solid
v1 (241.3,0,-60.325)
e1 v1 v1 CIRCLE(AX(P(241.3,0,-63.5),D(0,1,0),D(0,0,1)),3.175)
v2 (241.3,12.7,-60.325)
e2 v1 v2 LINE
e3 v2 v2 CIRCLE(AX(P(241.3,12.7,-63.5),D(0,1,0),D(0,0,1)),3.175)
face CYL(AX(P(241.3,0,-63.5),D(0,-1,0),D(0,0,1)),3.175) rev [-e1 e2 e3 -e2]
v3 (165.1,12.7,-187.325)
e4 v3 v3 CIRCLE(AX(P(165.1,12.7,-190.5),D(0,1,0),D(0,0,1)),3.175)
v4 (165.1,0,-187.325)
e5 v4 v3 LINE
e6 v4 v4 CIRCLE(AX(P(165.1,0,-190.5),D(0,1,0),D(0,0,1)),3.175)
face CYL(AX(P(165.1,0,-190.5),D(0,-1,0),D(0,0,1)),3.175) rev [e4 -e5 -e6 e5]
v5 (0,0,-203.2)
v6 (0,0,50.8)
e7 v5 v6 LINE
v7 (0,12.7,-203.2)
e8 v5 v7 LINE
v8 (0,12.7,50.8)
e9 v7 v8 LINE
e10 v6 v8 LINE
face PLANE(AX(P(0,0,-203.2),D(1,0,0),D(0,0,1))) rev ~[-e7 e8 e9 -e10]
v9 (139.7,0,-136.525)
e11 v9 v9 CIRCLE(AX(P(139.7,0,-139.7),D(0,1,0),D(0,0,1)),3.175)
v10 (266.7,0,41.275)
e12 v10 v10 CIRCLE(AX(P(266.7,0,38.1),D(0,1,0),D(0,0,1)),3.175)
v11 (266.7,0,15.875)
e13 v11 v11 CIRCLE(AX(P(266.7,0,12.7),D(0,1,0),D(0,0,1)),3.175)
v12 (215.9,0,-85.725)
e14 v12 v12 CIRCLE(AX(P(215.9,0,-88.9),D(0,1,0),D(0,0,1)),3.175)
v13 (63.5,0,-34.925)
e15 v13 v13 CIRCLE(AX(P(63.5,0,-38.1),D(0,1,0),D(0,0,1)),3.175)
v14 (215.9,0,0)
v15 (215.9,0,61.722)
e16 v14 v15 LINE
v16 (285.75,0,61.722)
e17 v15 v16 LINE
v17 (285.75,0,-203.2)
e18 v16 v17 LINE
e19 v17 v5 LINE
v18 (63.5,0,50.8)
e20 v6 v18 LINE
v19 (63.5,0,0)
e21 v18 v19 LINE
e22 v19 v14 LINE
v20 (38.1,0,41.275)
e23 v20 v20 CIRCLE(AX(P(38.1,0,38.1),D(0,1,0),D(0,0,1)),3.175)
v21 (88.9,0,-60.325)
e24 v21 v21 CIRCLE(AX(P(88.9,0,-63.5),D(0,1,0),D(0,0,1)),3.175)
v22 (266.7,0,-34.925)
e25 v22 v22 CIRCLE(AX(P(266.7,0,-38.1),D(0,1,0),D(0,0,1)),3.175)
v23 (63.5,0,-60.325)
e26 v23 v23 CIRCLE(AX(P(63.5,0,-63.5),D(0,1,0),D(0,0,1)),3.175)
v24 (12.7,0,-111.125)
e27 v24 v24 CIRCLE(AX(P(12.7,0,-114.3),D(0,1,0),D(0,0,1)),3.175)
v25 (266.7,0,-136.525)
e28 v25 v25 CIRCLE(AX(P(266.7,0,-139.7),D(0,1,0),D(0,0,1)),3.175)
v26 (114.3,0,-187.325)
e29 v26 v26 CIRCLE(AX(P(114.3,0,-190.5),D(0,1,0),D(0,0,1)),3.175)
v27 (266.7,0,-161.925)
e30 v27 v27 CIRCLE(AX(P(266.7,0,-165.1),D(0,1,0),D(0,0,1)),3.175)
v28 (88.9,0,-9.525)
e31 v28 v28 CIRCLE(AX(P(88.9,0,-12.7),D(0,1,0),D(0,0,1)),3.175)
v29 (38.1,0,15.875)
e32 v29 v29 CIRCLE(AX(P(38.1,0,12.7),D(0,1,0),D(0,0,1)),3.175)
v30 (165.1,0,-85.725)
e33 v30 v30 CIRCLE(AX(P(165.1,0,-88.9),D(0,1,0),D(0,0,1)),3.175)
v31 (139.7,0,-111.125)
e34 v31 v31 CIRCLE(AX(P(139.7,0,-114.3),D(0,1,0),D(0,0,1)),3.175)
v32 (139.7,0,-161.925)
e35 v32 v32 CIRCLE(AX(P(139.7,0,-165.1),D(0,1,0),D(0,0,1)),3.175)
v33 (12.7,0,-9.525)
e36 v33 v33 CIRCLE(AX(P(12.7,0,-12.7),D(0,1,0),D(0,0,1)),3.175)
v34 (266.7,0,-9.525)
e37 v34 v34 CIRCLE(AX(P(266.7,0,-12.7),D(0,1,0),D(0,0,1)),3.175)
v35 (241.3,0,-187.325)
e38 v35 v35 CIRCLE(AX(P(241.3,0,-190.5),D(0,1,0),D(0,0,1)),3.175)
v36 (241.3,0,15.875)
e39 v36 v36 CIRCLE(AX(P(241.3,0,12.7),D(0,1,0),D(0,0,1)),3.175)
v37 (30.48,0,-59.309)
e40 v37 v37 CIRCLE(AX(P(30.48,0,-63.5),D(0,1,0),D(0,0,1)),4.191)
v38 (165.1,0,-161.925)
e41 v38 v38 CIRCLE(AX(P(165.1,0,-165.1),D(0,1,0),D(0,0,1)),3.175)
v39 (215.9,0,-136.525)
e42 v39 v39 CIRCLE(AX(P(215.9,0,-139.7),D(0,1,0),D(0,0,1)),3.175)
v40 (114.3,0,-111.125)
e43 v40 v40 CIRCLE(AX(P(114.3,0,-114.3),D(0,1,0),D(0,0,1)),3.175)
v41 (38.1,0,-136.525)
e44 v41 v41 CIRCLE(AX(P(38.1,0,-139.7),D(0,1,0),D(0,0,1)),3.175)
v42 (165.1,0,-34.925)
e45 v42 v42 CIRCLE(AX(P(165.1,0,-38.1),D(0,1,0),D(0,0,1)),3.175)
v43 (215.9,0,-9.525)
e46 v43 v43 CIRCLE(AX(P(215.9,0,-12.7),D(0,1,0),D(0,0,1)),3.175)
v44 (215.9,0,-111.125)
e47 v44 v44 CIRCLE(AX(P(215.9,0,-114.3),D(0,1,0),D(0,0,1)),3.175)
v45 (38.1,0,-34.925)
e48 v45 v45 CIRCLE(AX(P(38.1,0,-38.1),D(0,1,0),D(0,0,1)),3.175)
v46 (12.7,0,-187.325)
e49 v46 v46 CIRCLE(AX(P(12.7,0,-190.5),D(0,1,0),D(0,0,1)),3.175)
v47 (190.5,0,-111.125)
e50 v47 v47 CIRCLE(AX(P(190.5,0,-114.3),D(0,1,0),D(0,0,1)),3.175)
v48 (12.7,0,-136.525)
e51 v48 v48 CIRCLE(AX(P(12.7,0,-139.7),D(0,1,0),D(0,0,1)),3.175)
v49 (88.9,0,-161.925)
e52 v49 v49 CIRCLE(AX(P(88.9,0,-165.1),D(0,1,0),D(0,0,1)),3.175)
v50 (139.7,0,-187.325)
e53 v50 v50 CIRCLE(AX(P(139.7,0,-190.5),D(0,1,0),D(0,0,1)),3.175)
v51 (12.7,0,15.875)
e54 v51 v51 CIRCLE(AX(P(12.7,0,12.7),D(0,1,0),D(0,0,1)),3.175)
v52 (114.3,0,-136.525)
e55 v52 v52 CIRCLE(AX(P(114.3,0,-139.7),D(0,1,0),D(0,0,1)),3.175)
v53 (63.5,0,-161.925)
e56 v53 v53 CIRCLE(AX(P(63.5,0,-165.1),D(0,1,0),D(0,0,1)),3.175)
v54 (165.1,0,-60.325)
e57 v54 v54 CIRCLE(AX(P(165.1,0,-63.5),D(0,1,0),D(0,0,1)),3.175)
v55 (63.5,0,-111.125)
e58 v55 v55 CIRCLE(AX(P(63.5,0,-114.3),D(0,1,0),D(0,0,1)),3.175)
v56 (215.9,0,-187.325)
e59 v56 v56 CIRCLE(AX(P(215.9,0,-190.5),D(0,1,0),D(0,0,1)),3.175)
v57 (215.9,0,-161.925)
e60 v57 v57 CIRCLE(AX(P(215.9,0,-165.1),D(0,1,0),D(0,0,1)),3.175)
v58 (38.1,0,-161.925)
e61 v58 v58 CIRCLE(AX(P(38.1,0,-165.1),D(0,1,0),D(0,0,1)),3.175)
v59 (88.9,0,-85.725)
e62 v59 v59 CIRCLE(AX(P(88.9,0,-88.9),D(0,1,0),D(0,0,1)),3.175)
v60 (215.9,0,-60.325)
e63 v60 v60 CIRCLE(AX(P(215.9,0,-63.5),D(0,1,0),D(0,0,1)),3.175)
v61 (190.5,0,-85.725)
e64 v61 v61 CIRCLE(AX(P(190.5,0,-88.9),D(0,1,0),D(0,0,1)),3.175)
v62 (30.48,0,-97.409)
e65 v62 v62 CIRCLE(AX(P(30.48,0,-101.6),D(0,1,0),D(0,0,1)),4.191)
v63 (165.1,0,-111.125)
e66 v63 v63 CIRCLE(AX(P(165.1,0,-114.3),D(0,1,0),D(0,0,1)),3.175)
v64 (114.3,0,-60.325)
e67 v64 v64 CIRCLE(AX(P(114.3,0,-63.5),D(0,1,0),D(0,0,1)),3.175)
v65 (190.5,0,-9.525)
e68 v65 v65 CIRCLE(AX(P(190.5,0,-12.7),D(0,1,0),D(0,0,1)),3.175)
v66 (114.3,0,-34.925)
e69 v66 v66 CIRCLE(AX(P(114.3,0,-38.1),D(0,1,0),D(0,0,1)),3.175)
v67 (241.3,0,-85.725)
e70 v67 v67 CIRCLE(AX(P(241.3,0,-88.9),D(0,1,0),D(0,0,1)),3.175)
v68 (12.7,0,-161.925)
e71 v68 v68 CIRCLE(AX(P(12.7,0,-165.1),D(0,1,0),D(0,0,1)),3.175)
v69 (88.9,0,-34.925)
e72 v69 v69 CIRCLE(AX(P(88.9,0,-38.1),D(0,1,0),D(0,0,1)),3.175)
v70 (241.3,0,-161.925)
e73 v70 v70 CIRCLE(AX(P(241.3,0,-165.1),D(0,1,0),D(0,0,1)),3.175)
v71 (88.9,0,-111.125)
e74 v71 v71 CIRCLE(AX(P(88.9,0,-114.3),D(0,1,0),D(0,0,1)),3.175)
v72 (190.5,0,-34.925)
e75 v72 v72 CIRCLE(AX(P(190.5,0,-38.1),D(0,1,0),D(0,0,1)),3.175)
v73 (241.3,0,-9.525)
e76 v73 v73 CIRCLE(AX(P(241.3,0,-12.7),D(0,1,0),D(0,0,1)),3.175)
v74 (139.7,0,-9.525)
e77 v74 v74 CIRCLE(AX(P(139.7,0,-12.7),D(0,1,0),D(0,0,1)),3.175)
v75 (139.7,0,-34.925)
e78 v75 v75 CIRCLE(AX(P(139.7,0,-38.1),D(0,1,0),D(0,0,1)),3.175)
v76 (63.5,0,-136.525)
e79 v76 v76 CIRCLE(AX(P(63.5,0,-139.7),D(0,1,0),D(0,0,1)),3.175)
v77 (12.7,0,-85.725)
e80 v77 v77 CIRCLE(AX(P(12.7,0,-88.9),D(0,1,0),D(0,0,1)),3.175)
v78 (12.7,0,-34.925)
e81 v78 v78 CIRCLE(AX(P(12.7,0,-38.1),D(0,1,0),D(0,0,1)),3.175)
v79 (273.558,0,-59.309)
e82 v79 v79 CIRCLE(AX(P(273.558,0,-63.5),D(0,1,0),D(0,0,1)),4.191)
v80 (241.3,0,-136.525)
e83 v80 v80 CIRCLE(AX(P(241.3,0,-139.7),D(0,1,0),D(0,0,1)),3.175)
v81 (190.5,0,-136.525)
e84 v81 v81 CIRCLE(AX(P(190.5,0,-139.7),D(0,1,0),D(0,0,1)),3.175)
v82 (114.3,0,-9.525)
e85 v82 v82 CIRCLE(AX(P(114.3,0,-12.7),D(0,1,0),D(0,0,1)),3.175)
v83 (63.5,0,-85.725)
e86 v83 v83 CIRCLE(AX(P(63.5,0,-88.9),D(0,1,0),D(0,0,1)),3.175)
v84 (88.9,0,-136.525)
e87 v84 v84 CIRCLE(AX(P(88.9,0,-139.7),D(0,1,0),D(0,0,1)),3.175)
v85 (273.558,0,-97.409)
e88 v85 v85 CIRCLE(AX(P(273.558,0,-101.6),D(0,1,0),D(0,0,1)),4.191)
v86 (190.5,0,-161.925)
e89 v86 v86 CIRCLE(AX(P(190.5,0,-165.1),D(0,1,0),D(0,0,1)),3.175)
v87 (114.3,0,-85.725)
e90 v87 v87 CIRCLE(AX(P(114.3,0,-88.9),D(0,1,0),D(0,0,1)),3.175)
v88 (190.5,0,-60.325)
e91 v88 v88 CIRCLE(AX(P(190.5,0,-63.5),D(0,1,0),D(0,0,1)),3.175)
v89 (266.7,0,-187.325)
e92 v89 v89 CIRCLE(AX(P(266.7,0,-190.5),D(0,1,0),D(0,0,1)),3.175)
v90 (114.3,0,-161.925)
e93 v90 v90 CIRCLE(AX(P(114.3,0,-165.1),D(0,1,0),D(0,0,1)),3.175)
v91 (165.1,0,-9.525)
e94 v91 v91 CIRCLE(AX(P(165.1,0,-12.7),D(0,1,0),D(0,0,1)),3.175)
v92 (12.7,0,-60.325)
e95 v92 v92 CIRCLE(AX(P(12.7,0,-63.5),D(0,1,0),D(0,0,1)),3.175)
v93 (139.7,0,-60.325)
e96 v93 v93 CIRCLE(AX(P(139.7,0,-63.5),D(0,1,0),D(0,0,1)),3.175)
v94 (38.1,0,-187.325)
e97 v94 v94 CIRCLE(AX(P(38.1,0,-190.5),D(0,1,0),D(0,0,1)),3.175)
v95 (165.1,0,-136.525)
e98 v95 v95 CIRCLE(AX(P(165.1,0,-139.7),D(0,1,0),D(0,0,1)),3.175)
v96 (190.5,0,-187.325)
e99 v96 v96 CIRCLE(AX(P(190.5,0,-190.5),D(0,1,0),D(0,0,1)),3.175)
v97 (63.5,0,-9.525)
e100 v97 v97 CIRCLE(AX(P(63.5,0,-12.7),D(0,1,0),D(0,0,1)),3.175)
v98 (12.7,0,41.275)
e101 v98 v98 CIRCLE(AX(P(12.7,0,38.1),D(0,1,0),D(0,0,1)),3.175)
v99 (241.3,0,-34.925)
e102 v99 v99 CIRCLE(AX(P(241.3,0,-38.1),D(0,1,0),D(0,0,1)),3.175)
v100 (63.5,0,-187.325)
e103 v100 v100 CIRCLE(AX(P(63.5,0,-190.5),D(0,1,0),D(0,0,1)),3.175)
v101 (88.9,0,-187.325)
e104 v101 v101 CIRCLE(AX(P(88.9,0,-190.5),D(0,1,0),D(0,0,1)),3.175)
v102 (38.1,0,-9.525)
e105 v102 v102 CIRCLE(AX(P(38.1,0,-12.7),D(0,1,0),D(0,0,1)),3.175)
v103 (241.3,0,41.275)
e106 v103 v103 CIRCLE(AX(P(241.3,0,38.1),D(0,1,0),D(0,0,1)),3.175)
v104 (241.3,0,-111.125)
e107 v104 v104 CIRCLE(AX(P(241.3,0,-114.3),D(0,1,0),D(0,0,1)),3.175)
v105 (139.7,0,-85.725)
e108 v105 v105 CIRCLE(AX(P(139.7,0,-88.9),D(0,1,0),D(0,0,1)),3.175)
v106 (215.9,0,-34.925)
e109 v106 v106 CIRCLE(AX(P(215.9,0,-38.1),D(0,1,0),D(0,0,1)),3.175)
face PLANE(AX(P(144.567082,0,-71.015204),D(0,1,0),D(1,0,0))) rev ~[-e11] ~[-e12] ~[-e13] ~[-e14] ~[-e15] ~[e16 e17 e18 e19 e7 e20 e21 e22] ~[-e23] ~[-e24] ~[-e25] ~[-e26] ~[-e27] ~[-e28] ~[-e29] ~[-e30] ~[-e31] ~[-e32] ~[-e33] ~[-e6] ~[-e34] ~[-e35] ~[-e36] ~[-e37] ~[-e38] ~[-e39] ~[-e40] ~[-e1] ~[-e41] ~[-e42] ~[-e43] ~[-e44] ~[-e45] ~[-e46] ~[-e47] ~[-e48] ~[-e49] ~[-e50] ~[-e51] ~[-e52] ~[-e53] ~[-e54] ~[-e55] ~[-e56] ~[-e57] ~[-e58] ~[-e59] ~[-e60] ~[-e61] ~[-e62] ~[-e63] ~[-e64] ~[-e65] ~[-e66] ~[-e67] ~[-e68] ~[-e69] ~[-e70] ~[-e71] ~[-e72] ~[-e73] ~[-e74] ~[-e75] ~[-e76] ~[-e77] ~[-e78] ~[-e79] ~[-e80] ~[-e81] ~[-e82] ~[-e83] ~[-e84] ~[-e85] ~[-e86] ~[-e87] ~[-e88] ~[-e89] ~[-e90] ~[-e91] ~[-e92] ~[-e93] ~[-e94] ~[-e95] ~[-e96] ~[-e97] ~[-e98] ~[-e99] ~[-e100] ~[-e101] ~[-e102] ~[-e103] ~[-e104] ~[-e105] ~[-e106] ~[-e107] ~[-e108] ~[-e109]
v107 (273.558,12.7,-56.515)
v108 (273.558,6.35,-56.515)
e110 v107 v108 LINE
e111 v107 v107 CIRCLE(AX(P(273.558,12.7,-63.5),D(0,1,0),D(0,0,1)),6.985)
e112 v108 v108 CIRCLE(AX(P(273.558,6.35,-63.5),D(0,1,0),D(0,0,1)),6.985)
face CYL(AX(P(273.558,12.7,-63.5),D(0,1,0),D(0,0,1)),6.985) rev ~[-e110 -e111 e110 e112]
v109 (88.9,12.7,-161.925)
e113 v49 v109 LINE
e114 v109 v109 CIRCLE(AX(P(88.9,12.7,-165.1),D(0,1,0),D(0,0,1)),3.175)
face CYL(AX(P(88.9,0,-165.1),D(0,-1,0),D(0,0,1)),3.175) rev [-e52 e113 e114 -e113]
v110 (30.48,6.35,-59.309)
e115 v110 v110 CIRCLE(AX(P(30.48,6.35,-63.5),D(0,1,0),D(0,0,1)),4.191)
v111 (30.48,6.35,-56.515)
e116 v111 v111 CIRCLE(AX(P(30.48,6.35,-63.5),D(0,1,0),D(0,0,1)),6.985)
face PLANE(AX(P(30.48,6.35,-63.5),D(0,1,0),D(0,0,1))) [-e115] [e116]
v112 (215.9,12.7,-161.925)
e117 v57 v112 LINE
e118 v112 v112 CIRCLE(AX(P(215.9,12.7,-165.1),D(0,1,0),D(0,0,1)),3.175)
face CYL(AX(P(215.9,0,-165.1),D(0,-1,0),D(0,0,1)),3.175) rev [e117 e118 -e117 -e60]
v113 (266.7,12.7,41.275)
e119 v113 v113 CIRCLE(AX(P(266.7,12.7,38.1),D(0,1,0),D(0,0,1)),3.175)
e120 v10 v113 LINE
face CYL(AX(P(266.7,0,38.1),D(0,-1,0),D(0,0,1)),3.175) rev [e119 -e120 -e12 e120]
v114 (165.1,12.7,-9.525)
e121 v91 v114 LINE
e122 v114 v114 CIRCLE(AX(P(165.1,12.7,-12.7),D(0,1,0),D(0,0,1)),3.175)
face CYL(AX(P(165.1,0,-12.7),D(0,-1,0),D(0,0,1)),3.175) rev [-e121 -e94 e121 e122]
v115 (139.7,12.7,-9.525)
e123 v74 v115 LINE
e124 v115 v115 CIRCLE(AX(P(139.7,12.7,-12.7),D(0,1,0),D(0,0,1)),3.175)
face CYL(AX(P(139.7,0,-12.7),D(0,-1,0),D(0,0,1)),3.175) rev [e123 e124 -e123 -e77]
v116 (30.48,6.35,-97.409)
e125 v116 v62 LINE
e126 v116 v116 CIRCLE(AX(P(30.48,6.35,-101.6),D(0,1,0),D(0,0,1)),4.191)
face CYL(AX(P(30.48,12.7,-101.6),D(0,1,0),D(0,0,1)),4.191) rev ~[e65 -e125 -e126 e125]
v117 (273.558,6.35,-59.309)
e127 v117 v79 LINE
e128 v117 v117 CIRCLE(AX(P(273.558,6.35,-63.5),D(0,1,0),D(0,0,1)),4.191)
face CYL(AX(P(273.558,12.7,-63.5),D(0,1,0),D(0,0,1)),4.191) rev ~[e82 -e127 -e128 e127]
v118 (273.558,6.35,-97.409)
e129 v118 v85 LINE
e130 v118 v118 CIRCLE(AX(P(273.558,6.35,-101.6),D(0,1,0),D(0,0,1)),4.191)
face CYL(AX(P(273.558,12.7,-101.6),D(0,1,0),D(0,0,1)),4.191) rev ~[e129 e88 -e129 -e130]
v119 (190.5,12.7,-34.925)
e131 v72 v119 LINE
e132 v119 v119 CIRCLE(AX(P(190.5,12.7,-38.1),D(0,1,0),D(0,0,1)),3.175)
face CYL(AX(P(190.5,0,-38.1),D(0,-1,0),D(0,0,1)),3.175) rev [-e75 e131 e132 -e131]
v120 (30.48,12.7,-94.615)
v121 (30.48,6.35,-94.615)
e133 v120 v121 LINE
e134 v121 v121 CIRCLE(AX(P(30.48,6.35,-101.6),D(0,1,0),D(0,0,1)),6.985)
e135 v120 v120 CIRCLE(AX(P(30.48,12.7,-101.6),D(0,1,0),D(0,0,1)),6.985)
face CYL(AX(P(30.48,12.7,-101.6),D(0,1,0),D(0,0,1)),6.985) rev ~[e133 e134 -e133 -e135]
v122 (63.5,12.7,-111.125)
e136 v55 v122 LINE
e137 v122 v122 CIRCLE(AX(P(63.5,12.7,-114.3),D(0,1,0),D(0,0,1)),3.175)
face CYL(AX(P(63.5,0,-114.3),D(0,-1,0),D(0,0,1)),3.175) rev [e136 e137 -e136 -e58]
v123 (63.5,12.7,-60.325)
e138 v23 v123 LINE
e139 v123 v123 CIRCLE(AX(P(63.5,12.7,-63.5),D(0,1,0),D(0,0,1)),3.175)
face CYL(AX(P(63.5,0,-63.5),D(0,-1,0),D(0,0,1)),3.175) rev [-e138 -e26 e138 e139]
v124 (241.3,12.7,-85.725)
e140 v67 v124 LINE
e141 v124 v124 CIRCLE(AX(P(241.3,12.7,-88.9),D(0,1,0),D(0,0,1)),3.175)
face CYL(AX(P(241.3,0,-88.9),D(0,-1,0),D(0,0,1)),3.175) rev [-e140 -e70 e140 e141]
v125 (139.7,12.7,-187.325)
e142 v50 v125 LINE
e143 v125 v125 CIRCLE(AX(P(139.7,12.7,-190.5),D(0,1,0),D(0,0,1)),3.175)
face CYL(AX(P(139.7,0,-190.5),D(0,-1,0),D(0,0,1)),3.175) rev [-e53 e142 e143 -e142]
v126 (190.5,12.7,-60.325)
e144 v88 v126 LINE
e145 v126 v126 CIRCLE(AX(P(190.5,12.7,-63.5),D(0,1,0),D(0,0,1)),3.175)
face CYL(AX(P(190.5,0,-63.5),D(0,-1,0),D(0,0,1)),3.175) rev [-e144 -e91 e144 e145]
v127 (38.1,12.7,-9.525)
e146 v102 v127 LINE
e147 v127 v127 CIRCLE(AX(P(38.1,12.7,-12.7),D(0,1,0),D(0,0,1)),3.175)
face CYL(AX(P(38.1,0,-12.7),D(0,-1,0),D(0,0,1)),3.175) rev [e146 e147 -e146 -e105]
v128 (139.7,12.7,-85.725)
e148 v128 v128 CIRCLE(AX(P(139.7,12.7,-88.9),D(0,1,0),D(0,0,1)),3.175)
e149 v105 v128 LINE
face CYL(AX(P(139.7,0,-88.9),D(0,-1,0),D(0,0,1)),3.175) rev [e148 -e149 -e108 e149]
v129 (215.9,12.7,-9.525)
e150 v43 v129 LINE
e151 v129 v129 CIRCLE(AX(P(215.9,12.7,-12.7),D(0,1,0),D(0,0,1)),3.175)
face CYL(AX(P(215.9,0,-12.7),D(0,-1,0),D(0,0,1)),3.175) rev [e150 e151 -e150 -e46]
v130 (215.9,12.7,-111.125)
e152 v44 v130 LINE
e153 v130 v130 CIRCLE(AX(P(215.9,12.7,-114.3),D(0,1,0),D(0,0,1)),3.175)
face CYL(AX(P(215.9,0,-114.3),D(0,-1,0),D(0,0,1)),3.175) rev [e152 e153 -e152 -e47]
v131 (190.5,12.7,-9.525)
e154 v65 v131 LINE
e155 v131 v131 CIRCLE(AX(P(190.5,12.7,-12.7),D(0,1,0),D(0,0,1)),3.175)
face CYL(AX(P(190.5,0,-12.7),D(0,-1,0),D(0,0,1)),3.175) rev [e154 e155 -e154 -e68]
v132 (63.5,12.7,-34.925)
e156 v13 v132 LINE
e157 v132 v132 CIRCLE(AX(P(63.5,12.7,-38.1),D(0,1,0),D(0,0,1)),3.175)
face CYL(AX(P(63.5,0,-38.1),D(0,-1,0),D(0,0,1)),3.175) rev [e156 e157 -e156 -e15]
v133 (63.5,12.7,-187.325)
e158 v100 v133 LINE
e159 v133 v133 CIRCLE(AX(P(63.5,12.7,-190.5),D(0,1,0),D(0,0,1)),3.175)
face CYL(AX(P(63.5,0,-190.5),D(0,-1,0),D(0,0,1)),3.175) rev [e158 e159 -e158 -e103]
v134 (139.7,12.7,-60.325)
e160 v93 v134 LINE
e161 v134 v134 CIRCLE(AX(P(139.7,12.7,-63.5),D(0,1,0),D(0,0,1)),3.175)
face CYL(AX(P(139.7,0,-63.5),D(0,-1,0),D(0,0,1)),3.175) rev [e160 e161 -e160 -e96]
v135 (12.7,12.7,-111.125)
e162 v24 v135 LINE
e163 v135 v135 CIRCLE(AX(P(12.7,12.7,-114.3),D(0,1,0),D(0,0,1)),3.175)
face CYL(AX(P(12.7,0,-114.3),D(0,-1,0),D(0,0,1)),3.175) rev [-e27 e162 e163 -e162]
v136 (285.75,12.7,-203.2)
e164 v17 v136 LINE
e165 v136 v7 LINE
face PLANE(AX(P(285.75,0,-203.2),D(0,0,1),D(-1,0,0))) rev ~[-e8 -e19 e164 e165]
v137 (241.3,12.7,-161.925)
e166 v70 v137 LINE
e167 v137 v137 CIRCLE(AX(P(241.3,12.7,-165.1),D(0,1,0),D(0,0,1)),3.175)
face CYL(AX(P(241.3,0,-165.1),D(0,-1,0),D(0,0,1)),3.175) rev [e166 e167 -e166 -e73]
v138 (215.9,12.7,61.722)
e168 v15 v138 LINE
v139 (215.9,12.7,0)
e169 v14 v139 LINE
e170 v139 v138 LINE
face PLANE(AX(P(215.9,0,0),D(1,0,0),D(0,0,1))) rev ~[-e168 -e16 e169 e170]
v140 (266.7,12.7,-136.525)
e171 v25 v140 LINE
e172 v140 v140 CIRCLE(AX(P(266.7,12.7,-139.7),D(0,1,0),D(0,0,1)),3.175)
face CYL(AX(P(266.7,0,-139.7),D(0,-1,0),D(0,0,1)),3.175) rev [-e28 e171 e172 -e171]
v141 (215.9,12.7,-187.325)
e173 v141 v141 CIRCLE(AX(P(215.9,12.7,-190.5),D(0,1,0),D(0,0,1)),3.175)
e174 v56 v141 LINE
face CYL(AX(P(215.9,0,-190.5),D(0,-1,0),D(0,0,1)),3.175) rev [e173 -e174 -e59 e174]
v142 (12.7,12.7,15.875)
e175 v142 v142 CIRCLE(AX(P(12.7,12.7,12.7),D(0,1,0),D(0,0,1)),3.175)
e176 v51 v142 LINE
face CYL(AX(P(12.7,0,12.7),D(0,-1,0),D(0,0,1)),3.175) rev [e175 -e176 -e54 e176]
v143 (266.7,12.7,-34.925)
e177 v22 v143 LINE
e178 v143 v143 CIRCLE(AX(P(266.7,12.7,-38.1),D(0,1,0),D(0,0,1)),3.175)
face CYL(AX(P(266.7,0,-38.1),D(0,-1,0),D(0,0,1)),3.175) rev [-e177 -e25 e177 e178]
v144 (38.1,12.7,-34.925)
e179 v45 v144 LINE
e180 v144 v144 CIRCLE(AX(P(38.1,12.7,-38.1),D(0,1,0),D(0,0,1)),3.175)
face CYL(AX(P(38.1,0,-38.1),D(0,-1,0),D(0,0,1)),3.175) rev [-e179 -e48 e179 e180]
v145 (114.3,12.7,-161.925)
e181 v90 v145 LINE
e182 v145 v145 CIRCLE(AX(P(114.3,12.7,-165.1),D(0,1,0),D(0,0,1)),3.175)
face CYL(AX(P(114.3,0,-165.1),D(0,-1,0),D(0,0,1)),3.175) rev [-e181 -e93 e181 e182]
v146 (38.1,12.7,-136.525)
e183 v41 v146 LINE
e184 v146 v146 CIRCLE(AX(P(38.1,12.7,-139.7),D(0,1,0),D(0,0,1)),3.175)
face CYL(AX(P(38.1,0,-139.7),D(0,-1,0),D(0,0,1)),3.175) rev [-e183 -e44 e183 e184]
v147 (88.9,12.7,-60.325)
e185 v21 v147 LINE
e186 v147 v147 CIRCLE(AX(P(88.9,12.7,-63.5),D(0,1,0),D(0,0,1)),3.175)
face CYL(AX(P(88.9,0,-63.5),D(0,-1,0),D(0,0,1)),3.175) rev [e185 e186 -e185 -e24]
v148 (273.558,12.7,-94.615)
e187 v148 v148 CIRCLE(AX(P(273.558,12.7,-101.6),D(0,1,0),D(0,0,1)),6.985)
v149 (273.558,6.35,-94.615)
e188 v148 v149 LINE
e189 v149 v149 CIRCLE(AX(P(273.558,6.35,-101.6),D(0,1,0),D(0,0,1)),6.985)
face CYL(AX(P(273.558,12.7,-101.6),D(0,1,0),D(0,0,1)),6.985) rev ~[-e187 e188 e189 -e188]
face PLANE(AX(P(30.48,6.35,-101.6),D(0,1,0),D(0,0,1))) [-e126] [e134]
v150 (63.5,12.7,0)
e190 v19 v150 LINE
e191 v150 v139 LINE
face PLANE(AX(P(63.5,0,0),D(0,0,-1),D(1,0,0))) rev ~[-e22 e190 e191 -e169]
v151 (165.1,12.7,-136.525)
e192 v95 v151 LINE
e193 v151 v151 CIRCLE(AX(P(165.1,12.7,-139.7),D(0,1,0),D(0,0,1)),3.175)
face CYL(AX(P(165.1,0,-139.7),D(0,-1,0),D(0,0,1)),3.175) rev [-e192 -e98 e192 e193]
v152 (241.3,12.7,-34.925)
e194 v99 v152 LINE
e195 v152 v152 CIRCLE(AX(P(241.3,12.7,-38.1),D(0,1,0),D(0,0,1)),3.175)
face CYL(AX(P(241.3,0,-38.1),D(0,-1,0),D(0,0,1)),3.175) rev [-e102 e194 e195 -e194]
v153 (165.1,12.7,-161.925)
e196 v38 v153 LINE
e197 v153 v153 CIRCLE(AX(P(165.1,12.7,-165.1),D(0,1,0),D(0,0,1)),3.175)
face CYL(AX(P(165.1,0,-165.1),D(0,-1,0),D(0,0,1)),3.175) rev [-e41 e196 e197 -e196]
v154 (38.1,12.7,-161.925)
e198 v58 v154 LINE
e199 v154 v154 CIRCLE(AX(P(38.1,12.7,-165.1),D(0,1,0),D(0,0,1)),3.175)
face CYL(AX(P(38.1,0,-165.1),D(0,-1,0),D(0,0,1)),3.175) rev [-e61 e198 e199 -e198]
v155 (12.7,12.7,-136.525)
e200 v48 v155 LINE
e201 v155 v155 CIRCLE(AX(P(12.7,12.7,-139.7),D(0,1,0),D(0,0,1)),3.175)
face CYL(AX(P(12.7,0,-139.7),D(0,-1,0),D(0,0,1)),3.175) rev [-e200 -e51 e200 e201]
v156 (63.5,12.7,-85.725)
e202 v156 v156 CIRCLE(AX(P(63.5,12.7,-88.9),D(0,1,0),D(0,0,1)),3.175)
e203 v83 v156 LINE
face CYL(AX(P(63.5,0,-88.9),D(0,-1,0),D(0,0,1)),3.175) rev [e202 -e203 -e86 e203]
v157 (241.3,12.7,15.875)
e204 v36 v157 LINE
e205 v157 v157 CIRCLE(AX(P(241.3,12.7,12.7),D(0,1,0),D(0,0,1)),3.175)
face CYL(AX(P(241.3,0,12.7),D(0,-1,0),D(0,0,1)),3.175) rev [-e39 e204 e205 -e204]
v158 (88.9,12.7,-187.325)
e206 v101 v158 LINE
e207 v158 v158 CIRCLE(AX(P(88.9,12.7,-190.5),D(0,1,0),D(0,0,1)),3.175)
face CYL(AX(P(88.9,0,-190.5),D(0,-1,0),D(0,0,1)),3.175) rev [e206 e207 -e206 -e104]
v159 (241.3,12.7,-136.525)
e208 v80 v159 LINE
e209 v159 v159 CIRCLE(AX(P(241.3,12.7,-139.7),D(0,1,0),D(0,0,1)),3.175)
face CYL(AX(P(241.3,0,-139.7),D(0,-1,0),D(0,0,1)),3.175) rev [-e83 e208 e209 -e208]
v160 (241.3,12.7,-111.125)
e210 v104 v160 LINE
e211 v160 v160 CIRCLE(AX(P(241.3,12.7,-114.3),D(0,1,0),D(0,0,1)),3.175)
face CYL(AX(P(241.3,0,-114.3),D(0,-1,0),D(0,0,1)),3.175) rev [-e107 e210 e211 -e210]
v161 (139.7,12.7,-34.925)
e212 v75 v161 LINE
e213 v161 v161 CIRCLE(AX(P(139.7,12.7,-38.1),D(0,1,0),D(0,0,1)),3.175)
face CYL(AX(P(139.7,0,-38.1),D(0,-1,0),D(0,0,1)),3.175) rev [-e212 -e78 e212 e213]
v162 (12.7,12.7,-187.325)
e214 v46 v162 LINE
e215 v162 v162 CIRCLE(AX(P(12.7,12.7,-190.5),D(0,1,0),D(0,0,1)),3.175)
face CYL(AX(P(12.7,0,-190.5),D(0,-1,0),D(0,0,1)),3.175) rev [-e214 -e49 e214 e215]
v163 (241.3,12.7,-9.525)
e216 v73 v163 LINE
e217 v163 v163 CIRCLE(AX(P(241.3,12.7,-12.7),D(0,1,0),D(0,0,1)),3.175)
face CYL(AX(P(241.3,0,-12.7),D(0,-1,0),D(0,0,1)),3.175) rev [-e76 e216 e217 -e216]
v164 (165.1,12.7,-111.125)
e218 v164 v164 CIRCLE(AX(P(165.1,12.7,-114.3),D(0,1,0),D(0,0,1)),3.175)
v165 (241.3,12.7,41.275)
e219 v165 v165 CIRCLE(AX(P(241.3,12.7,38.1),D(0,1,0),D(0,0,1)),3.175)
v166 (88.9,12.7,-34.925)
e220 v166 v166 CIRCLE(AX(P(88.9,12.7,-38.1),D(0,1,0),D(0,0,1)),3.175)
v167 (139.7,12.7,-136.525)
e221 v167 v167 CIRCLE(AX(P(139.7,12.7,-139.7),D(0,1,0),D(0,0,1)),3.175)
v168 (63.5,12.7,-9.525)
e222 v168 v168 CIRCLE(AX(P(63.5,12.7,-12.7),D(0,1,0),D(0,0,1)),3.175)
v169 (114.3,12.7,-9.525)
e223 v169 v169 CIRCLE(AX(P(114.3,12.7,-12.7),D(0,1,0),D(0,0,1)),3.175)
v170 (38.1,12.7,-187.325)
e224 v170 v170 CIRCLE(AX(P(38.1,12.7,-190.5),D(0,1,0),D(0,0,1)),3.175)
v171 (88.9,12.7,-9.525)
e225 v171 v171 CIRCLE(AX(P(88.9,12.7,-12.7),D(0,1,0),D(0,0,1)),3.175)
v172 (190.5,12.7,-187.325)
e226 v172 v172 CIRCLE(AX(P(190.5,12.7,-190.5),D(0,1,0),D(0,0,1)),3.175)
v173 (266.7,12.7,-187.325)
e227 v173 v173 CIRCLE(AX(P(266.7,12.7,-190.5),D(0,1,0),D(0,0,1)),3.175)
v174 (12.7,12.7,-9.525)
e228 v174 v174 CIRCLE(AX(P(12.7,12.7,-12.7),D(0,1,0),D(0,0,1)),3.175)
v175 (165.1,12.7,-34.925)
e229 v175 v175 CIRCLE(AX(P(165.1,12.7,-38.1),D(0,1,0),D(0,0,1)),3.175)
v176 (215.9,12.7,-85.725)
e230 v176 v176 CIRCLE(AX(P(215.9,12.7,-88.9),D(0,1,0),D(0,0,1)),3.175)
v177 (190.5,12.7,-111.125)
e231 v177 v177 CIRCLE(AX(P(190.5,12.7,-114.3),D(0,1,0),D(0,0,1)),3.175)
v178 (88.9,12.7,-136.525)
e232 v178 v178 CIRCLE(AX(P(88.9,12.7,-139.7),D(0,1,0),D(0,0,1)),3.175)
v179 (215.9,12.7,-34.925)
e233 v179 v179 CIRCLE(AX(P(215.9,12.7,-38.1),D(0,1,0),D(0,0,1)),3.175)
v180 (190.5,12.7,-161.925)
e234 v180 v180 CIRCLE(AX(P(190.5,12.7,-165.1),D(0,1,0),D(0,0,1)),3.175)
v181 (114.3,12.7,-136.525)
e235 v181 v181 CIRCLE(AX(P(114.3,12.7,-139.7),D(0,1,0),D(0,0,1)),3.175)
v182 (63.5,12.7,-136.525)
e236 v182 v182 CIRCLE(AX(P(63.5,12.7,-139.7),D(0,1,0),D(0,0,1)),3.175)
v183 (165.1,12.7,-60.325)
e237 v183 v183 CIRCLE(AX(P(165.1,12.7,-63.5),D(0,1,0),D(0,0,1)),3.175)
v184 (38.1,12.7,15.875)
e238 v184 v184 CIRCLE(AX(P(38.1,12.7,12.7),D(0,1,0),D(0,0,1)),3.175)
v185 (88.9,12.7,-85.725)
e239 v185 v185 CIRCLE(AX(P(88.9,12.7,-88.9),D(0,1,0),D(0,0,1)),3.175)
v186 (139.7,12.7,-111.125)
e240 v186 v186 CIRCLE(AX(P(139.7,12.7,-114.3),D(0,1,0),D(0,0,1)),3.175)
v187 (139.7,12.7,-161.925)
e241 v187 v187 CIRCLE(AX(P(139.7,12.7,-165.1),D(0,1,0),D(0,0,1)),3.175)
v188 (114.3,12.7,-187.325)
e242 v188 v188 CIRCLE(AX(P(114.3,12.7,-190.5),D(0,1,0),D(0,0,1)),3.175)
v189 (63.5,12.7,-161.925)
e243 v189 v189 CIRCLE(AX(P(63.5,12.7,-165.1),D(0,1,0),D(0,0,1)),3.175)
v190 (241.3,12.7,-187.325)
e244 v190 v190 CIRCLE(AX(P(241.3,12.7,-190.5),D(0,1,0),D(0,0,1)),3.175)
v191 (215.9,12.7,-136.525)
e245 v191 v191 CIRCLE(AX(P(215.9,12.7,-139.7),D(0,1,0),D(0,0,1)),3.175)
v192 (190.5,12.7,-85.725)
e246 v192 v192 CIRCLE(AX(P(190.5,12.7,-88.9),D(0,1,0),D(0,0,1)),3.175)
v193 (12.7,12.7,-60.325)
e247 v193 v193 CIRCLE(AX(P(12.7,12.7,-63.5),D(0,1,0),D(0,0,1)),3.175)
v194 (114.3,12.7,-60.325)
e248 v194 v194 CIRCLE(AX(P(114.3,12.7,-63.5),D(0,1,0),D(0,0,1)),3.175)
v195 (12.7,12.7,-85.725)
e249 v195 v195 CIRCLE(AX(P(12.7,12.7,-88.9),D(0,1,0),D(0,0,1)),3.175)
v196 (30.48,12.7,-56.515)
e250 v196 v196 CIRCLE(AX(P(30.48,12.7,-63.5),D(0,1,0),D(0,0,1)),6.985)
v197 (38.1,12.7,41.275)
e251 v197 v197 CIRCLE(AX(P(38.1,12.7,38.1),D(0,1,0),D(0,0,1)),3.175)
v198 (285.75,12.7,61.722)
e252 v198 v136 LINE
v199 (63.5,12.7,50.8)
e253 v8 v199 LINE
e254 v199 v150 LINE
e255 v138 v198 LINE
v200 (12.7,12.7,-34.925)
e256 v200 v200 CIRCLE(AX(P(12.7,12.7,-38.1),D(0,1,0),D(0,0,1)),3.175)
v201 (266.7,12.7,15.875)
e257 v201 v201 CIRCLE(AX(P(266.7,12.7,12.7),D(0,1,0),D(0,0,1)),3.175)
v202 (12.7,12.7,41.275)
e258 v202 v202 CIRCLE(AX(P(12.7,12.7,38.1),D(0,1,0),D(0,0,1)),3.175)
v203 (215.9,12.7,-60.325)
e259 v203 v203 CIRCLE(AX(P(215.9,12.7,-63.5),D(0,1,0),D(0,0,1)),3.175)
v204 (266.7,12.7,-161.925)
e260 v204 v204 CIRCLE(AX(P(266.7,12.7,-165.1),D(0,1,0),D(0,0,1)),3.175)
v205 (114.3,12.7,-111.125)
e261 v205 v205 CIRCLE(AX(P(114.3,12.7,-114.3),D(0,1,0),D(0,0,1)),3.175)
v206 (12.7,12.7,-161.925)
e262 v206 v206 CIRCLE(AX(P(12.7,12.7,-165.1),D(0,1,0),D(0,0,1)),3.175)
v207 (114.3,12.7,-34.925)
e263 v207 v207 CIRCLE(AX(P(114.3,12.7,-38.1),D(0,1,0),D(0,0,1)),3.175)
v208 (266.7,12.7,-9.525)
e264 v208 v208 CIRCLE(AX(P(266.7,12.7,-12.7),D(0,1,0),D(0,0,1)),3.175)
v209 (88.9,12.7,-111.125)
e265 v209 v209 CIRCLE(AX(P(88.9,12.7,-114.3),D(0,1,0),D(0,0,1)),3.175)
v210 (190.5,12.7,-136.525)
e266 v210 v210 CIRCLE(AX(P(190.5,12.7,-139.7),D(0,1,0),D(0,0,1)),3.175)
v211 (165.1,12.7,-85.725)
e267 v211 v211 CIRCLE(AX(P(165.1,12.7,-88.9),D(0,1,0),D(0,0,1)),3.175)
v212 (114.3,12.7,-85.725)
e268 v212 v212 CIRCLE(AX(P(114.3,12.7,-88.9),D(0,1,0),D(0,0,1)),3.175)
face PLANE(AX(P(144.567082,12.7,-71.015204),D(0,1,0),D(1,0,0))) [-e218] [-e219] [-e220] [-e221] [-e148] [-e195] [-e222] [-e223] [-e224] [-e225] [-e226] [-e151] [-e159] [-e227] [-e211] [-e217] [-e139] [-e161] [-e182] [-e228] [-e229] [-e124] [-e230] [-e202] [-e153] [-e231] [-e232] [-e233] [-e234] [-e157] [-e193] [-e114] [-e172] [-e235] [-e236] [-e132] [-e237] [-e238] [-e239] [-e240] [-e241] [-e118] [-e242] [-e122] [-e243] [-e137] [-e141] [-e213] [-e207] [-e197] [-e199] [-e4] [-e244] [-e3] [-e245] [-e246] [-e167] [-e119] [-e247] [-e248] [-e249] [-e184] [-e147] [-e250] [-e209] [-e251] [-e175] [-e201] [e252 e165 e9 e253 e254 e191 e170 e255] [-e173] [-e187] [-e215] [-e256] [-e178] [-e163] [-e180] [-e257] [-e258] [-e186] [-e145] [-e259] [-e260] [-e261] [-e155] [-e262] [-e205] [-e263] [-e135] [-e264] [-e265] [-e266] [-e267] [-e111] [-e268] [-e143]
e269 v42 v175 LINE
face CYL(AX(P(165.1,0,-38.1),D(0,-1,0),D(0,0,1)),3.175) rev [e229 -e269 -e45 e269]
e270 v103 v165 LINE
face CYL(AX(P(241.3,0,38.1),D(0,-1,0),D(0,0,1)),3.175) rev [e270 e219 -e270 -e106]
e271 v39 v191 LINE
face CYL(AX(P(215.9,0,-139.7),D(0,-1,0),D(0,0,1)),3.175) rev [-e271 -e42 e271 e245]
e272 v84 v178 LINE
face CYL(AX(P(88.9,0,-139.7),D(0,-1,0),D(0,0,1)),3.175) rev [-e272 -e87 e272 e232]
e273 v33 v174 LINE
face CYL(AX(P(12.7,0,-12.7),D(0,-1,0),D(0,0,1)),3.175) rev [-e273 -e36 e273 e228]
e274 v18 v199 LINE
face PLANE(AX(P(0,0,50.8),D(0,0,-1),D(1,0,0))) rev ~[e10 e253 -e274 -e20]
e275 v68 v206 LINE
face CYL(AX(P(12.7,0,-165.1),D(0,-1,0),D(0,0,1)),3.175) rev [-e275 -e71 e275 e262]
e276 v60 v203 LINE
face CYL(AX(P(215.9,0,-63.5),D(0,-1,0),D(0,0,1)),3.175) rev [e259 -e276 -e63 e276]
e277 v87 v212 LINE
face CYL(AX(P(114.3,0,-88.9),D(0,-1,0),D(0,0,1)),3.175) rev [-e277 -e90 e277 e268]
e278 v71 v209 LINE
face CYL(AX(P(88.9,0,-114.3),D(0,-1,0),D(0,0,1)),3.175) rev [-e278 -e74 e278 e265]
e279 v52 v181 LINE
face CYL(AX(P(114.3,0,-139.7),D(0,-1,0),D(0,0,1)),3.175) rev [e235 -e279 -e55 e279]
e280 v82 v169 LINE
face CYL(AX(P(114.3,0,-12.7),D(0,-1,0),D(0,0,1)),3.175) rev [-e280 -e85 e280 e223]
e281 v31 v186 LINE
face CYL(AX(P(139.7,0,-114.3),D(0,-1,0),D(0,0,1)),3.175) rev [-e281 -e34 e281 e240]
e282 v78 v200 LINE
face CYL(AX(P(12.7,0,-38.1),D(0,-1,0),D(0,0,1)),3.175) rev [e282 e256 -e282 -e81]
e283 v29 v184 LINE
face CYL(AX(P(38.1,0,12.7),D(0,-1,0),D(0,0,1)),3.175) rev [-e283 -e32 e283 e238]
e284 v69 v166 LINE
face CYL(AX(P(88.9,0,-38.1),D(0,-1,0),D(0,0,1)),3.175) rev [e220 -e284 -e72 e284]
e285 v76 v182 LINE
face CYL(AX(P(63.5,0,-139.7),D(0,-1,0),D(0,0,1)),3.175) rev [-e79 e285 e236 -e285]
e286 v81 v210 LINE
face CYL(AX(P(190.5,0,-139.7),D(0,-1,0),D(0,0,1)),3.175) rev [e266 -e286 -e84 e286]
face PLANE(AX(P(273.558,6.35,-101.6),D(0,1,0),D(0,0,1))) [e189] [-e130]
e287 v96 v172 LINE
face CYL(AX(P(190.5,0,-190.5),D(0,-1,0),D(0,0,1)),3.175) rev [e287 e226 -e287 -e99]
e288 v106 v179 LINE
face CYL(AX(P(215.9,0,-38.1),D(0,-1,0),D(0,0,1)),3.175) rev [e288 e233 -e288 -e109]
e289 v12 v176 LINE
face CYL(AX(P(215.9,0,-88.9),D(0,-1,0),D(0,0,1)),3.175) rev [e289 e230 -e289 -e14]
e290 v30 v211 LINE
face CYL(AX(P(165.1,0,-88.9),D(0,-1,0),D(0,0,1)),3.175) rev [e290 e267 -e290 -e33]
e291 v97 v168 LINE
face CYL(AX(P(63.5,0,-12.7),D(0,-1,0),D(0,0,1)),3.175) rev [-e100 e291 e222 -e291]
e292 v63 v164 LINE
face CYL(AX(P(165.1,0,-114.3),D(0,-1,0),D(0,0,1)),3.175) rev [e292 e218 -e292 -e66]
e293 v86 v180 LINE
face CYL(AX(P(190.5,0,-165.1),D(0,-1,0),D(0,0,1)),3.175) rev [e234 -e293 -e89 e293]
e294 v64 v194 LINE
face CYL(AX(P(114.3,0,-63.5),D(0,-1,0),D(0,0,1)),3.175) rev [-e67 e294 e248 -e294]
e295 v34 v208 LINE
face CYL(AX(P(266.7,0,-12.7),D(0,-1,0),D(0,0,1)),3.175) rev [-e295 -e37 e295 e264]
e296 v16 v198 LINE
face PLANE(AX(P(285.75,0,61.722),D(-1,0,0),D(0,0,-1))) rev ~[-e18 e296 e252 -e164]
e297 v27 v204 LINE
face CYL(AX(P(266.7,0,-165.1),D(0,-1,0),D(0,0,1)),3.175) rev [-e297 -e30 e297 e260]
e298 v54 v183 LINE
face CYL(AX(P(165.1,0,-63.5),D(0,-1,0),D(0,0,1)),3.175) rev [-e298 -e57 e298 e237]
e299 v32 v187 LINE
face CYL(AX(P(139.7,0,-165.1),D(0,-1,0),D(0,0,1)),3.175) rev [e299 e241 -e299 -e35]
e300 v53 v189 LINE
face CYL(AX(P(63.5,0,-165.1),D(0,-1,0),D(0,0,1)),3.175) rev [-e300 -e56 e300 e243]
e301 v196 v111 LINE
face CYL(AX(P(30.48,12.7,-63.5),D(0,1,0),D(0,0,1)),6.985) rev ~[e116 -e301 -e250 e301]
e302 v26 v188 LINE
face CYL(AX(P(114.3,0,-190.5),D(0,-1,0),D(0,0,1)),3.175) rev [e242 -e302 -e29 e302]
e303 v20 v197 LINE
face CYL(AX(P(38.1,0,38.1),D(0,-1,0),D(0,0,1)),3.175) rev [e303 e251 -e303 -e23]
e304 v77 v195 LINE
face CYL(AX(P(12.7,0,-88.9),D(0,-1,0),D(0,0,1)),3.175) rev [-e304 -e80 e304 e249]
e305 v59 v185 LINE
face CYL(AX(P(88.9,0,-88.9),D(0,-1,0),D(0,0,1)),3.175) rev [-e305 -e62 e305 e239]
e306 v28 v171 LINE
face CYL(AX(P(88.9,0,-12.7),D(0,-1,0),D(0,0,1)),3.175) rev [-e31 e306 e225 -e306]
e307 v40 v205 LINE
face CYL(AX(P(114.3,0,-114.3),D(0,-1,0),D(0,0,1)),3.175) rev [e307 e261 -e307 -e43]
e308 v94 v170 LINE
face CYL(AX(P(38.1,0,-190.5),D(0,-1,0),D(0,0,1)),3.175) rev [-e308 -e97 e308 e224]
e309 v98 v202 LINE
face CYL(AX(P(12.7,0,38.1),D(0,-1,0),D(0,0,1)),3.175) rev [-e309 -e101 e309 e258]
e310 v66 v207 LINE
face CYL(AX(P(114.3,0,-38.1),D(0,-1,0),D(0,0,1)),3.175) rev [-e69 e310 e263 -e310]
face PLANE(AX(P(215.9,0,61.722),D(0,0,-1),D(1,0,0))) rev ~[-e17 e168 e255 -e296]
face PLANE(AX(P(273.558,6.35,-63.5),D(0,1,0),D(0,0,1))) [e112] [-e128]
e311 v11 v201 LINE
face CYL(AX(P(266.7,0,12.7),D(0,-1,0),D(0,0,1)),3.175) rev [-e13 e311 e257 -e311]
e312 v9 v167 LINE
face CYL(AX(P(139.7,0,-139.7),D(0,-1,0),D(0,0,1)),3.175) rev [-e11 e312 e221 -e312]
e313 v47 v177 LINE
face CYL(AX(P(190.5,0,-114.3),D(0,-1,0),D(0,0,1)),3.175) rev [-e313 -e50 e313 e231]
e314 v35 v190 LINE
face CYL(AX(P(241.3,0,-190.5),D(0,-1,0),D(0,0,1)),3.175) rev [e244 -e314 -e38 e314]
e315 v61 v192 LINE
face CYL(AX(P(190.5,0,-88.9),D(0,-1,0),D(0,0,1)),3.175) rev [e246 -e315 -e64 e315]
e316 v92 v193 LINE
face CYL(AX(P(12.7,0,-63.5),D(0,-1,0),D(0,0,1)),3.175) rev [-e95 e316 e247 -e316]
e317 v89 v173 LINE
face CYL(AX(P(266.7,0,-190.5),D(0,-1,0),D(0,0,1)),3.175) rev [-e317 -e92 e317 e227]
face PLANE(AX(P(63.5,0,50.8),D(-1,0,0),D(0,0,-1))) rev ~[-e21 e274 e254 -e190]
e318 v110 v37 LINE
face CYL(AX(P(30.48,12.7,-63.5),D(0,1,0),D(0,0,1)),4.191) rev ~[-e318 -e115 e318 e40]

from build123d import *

# Parameters (mm, degrees)
SKETCH1_R           = 3.175
BOSS_EXTRUDE1_DEPTH = 12.7
SKETCH2_R           = 6.985
CUT_EXTRUDE1_DEPTH  = 6.35
SKETCH2_3_R         = 4.191
CUT_EXTRUDE2_DEPTH  = 12.7


with BuildPart() as part:
    # Sketch1 → Boss-Extrude1 (new body)
    with BuildSketch(Plane(origin=(0, 0, 0), x_dir=(1, 0, 0), z_dir=(0, 1, 0))):
        Polygon((63.5, 0), (215.9, 0), (215.9, -61.722), (285.75, -61.722), (285.75, 0), (285.75, 203.2), (0, 203.2), (0, 0), (0, -50.8), (63.5, -50.8), align=None)
        with Locations(Location((12.7, 190.5, 0), (0, 0, 270))):
            Circle(SKETCH1_R, mode=Mode.SUBTRACT)
        with Locations(Location((38.1, 190.5, 0), (0, 0, 270))):
            Circle(SKETCH1_R, mode=Mode.SUBTRACT)
        with Locations(Location((63.5, 190.5, 0), (0, 0, 270))):
            Circle(SKETCH1_R, mode=Mode.SUBTRACT)
        with Locations(Location((88.9, 190.5, 0), (0, 0, 270))):
            Circle(SKETCH1_R, mode=Mode.SUBTRACT)
        with Locations(Location((114.3, 190.5, 0), (0, 0, 270))):
            Circle(SKETCH1_R, mode=Mode.SUBTRACT)
        with Locations(Location((139.7, 190.5, 0), (0, 0, 270))):
            Circle(SKETCH1_R, mode=Mode.SUBTRACT)
        with Locations(Location((165.1, 190.5, 0), (0, 0, 270))):
            Circle(SKETCH1_R, mode=Mode.SUBTRACT)
        with Locations(Location((190.5, 190.5, 0), (0, 0, 270))):
            Circle(SKETCH1_R, mode=Mode.SUBTRACT)
        with Locations(Location((215.9, 190.5, 0), (0, 0, 270))):
            Circle(SKETCH1_R, mode=Mode.SUBTRACT)
        with Locations(Location((241.3, 190.5, 0), (0, 0, 270))):
            Circle(SKETCH1_R, mode=Mode.SUBTRACT)
        with Locations(Location((266.7, 190.5, 0), (0, 0, 270))):
            Circle(SKETCH1_R, mode=Mode.SUBTRACT)
        with Locations(Location((38.1, 165.1, 0), (0, 0, 270))):
            Circle(SKETCH1_R, mode=Mode.SUBTRACT)
        with Locations(Location((63.5, 165.1, 0), (0, 0, 270))):
            Circle(SKETCH1_R, mode=Mode.SUBTRACT)
        with Locations(Location((88.9, 165.1, 0), (0, 0, 270))):
            Circle(SKETCH1_R, mode=Mode.SUBTRACT)
        with Locations(Location((114.3, 165.1, 0), (0, 0, 270))):
            Circle(SKETCH1_R, mode=Mode.SUBTRACT)
        with Locations(Location((139.7, 165.1, 0), (0, 0, 270))):
            Circle(SKETCH1_R, mode=Mode.SUBTRACT)
        with Locations(Location((165.1, 165.1, 0), (0, 0, 270))):
            Circle(SKETCH1_R, mode=Mode.SUBTRACT)
        with Locations(Location((190.5, 165.1, 0), (0, 0, 270))):
            Circle(SKETCH1_R, mode=Mode.SUBTRACT)
        with Locations(Location((215.9, 165.1, 0), (0, 0, 270))):
            Circle(SKETCH1_R, mode=Mode.SUBTRACT)
        with Locations(Location((241.3, 165.1, 0), (0, 0, 270))):
            Circle(SKETCH1_R, mode=Mode.SUBTRACT)
        with Locations(Location((266.7, 165.1, 0), (0, 0, 270))):
            Circle(SKETCH1_R, mode=Mode.SUBTRACT)
        with Locations(Location((38.1, 139.7, 0), (0, 0, 270))):
            Circle(SKETCH1_R, mode=Mode.SUBTRACT)
        with Locations(Location((63.5, 139.7, 0), (0, 0, 270))):
            Circle(SKETCH1_R, mode=Mode.SUBTRACT)
        with Locations(Location((88.9, 139.7, 0), (0, 0, 270))):
            Circle(SKETCH1_R, mode=Mode.SUBTRACT)
        with Locations(Location((114.3, 139.7, 0), (0, 0, 270))):
            Circle(SKETCH1_R, mode=Mode.SUBTRACT)
        with Locations(Location((139.7, 139.7, 0), (0, 0, 270))):
            Circle(SKETCH1_R, mode=Mode.SUBTRACT)
        with Locations(Location((165.1, 139.7, 0), (0, 0, 270))):
            Circle(SKETCH1_R, mode=Mode.SUBTRACT)
        with Locations(Location((190.5, 139.7, 0), (0, 0, 270))):
            Circle(SKETCH1_R, mode=Mode.SUBTRACT)
        with Locations(Location((215.9, 139.7, 0), (0, 0, 270))):
            Circle(SKETCH1_R, mode=Mode.SUBTRACT)
        with Locations(Location((241.3, 139.7, 0), (0, 0, 270))):
            Circle(SKETCH1_R, mode=Mode.SUBTRACT)
        with Locations(Location((266.7, 139.7, 0), (0, 0, 270))):
            Circle(SKETCH1_R, mode=Mode.SUBTRACT)
        with Locations(Location((63.5, 114.3, 0), (0, 0, 270))):
            Circle(SKETCH1_R, mode=Mode.SUBTRACT)
        with Locations(Location((88.9, 114.3, 0), (0, 0, 270))):
            Circle(SKETCH1_R, mode=Mode.SUBTRACT)
        with Locations(Location((114.3, 114.3, 0), (0, 0, 270))):
            Circle(SKETCH1_R, mode=Mode.SUBTRACT)
        with Locations(Location((139.7, 114.3, 0), (0, 0, 270))):
            Circle(SKETCH1_R, mode=Mode.SUBTRACT)
        with Locations(Location((165.1, 114.3, 0), (0, 0, 270))):
            Circle(SKETCH1_R, mode=Mode.SUBTRACT)
        with Locations(Location((190.5, 114.3, 0), (0, 0, 270))):
            Circle(SKETCH1_R, mode=Mode.SUBTRACT)
        with Locations(Location((215.9, 114.3, 0), (0, 0, 270))):
            Circle(SKETCH1_R, mode=Mode.SUBTRACT)
        with Locations(Location((241.3, 114.3, 0), (0, 0, 270))):
            Circle(SKETCH1_R, mode=Mode.SUBTRACT)
        with Locations(Location((63.5, 88.9, 0), (0, 0, 270))):
            Circle(SKETCH1_R, mode=Mode.SUBTRACT)
        with Locations(Location((88.9, 88.9, 0), (0, 0, 270))):
            Circle(SKETCH1_R, mode=Mode.SUBTRACT)
        with Locations(Location((114.3, 88.9, 0), (0, 0, 270))):
            Circle(SKETCH1_R, mode=Mode.SUBTRACT)
        with Locations(Location((139.7, 88.9, 0), (0, 0, 270))):
            Circle(SKETCH1_R, mode=Mode.SUBTRACT)
        with Locations(Location((165.1, 88.9, 0), (0, 0, 270))):
            Circle(SKETCH1_R, mode=Mode.SUBTRACT)
        with Locations(Location((190.5, 88.9, 0), (0, 0, 270))):
            Circle(SKETCH1_R, mode=Mode.SUBTRACT)
        with Locations(Location((215.9, 88.9, 0), (0, 0, 270))):
            Circle(SKETCH1_R, mode=Mode.SUBTRACT)
        with Locations(Location((241.3, 88.9, 0), (0, 0, 270))):
            Circle(SKETCH1_R, mode=Mode.SUBTRACT)
        with Locations(Location((63.5, 63.5, 0), (0, 0, 270))):
            Circle(SKETCH1_R, mode=Mode.SUBTRACT)
        with Locations(Location((88.9, 63.5, 0), (0, 0, 270))):
            Circle(SKETCH1_R, mode=Mode.SUBTRACT)
        with Locations(Location((114.3, 63.5, 0), (0, 0, 270))):
            Circle(SKETCH1_R, mode=Mode.SUBTRACT)
        with Locations(Location((139.7, 63.5, 0), (0, 0, 270))):
            Circle(SKETCH1_R, mode=Mode.SUBTRACT)
        with Locations(Location((165.1, 63.5, 0), (0, 0, 270))):
            Circle(SKETCH1_R, mode=Mode.SUBTRACT)
        with Locations(Location((190.5, 63.5, 0), (0, 0, 270))):
            Circle(SKETCH1_R, mode=Mode.SUBTRACT)
        with Locations(Location((215.9, 63.5, 0), (0, 0, 270))):
            Circle(SKETCH1_R, mode=Mode.SUBTRACT)
        with Locations(Location((241.3, 63.5, 0), (0, 0, 270))):
            Circle(SKETCH1_R, mode=Mode.SUBTRACT)
        with Locations(Location((38.1, 38.1, 0), (0, 0, 270))):
            Circle(SKETCH1_R, mode=Mode.SUBTRACT)
        with Locations(Location((63.5, 38.1, 0), (0, 0, 270))):
            Circle(SKETCH1_R, mode=Mode.SUBTRACT)
        with Locations(Location((88.9, 38.1, 0), (0, 0, 270))):
            Circle(SKETCH1_R, mode=Mode.SUBTRACT)
        with Locations(Location((114.3, 38.1, 0), (0, 0, 270))):
            Circle(SKETCH1_R, mode=Mode.SUBTRACT)
        with Locations(Location((139.7, 38.1, 0), (0, 0, 270))):
            Circle(SKETCH1_R, mode=Mode.SUBTRACT)
        with Locations(Location((165.1, 38.1, 0), (0, 0, 270))):
            Circle(SKETCH1_R, mode=Mode.SUBTRACT)
        with Locations(Location((190.5, 38.1, 0), (0, 0, 270))):
            Circle(SKETCH1_R, mode=Mode.SUBTRACT)
        with Locations(Location((215.9, 38.1, 0), (0, 0, 270))):
            Circle(SKETCH1_R, mode=Mode.SUBTRACT)
        with Locations(Location((241.3, 38.1, 0), (0, 0, 270))):
            Circle(SKETCH1_R, mode=Mode.SUBTRACT)
        with Locations(Location((266.7, 38.1, 0), (0, 0, 270))):
            Circle(SKETCH1_R, mode=Mode.SUBTRACT)
        with Locations(Location((38.1, 12.7, 0), (0, 0, 270))):
            Circle(SKETCH1_R, mode=Mode.SUBTRACT)
        with Locations(Location((63.5, 12.7, 0), (0, 0, 270))):
            Circle(SKETCH1_R, mode=Mode.SUBTRACT)
        with Locations(Location((88.9, 12.7, 0), (0, 0, 270))):
            Circle(SKETCH1_R, mode=Mode.SUBTRACT)
        with Locations(Location((114.3, 12.7, 0), (0, 0, 270))):
            Circle(SKETCH1_R, mode=Mode.SUBTRACT)
        with Locations(Location((139.7, 12.7, 0), (0, 0, 270))):
            Circle(SKETCH1_R, mode=Mode.SUBTRACT)
        with Locations(Location((165.1, 12.7, 0), (0, 0, 270))):
            Circle(SKETCH1_R, mode=Mode.SUBTRACT)
        with Locations(Location((190.5, 12.7, 0), (0, 0, 270))):
            Circle(SKETCH1_R, mode=Mode.SUBTRACT)
        with Locations(Location((215.9, 12.7, 0), (0, 0, 270))):
            Circle(SKETCH1_R, mode=Mode.SUBTRACT)
        with Locations(Location((241.3, 12.7, 0), (0, 0, 270))):
            Circle(SKETCH1_R, mode=Mode.SUBTRACT)
        with Locations(Location((266.7, 12.7, 0), (0, 0, 270))):
            Circle(SKETCH1_R, mode=Mode.SUBTRACT)
        with Locations(Location((38.1, -12.7, 0), (0, 0, 270))):
            Circle(SKETCH1_R, mode=Mode.SUBTRACT)
        with Locations(Location((241.3, -12.7, 0), (0, 0, 270))):
            Circle(SKETCH1_R, mode=Mode.SUBTRACT)
        with Locations(Location((266.7, -12.7, 0), (0, 0, 270))):
            Circle(SKETCH1_R, mode=Mode.SUBTRACT)
        with Locations(Location((38.1, -38.1, 0), (0, 0, 270))):
            Circle(SKETCH1_R, mode=Mode.SUBTRACT)
        with Locations(Location((241.3, -38.1, 0), (0, 0, 270))):
            Circle(SKETCH1_R, mode=Mode.SUBTRACT)
        with Locations(Location((266.7, -38.1, 0), (0, 0, 270))):
            Circle(SKETCH1_R, mode=Mode.SUBTRACT)
        with Locations(Location((12.7, 165.1, 0), (0, 0, 270))):
            Circle(SKETCH1_R, mode=Mode.SUBTRACT)
        with Locations(Location((12.7, 139.7, 0), (0, 0, 270))):
            Circle(SKETCH1_R, mode=Mode.SUBTRACT)
        with Locations(Location((12.7, 114.3, 0), (0, 0, 270))):
            Circle(SKETCH1_R, mode=Mode.SUBTRACT)
        with Locations(Location((12.7, 88.9, 0), (0, 0, 270))):
            Circle(SKETCH1_R, mode=Mode.SUBTRACT)
        with Locations(Location((12.7, 63.5, 0), (0, 0, 270))):
            Circle(SKETCH1_R, mode=Mode.SUBTRACT)
        with Locations(Location((12.7, 38.1, 0), (0, 0, 270))):
            Circle(SKETCH1_R, mode=Mode.SUBTRACT)
        with Locations(Location((12.7, 12.7, 0), (0, 0, 270))):
            Circle(SKETCH1_R, mode=Mode.SUBTRACT)
        with Locations(Location((12.7, -12.7, 0), (0, 0, 270))):
            Circle(SKETCH1_R, mode=Mode.SUBTRACT)
        with Locations(Location((12.7, -38.1, 0), (0, 0, 270))):
            Circle(SKETCH1_R, mode=Mode.SUBTRACT)
    extrude(amount=BOSS_EXTRUDE1_DEPTH)

    # Sketch2 → Cut-Extrude1 (cut)
    with BuildSketch(Plane(origin=(0, 12.7, 0), x_dir=(1, 0, 0), z_dir=(0, 1, 0))):
        with Locations(Location((30.48, 101.6, 0), (0, 0, 270))):
            Circle(SKETCH2_R)
        with Locations(Location((30.48, 63.5, 0), (0, 0, 270))):
            Circle(SKETCH2_R)
        with Locations(Location((273.558, 101.6, 0), (0, 0, 270))):
            Circle(SKETCH2_R)
        with Locations(Location((273.558, 63.5, 0), (0, 0, 270))):
            Circle(SKETCH2_R)
    extrude(amount=-CUT_EXTRUDE1_DEPTH, mode=Mode.SUBTRACT)

    # Sketch2<3> → Cut-Extrude2 (cut)
    with BuildSketch(Plane(origin=(0, 12.7, 0), x_dir=(1, 0, 0), z_dir=(0, 1, 0))):
        with Locations(Location((273.558, 101.6, 0), (0, 0, 270))):
            Circle(SKETCH2_3_R)
        with Locations(Location((30.48, 63.5, 0), (0, 0, 270))):
            Circle(SKETCH2_3_R)
        with Locations(Location((30.48, 101.6, 0), (0, 0, 270))):
            Circle(SKETCH2_3_R)
        with Locations(Location((273.558, 63.5, 0), (0, 0, 270))):
            Circle(SKETCH2_3_R)
    extrude(amount=-CUT_EXTRUDE2_DEPTH, mode=Mode.SUBTRACT)


solid = part.part
